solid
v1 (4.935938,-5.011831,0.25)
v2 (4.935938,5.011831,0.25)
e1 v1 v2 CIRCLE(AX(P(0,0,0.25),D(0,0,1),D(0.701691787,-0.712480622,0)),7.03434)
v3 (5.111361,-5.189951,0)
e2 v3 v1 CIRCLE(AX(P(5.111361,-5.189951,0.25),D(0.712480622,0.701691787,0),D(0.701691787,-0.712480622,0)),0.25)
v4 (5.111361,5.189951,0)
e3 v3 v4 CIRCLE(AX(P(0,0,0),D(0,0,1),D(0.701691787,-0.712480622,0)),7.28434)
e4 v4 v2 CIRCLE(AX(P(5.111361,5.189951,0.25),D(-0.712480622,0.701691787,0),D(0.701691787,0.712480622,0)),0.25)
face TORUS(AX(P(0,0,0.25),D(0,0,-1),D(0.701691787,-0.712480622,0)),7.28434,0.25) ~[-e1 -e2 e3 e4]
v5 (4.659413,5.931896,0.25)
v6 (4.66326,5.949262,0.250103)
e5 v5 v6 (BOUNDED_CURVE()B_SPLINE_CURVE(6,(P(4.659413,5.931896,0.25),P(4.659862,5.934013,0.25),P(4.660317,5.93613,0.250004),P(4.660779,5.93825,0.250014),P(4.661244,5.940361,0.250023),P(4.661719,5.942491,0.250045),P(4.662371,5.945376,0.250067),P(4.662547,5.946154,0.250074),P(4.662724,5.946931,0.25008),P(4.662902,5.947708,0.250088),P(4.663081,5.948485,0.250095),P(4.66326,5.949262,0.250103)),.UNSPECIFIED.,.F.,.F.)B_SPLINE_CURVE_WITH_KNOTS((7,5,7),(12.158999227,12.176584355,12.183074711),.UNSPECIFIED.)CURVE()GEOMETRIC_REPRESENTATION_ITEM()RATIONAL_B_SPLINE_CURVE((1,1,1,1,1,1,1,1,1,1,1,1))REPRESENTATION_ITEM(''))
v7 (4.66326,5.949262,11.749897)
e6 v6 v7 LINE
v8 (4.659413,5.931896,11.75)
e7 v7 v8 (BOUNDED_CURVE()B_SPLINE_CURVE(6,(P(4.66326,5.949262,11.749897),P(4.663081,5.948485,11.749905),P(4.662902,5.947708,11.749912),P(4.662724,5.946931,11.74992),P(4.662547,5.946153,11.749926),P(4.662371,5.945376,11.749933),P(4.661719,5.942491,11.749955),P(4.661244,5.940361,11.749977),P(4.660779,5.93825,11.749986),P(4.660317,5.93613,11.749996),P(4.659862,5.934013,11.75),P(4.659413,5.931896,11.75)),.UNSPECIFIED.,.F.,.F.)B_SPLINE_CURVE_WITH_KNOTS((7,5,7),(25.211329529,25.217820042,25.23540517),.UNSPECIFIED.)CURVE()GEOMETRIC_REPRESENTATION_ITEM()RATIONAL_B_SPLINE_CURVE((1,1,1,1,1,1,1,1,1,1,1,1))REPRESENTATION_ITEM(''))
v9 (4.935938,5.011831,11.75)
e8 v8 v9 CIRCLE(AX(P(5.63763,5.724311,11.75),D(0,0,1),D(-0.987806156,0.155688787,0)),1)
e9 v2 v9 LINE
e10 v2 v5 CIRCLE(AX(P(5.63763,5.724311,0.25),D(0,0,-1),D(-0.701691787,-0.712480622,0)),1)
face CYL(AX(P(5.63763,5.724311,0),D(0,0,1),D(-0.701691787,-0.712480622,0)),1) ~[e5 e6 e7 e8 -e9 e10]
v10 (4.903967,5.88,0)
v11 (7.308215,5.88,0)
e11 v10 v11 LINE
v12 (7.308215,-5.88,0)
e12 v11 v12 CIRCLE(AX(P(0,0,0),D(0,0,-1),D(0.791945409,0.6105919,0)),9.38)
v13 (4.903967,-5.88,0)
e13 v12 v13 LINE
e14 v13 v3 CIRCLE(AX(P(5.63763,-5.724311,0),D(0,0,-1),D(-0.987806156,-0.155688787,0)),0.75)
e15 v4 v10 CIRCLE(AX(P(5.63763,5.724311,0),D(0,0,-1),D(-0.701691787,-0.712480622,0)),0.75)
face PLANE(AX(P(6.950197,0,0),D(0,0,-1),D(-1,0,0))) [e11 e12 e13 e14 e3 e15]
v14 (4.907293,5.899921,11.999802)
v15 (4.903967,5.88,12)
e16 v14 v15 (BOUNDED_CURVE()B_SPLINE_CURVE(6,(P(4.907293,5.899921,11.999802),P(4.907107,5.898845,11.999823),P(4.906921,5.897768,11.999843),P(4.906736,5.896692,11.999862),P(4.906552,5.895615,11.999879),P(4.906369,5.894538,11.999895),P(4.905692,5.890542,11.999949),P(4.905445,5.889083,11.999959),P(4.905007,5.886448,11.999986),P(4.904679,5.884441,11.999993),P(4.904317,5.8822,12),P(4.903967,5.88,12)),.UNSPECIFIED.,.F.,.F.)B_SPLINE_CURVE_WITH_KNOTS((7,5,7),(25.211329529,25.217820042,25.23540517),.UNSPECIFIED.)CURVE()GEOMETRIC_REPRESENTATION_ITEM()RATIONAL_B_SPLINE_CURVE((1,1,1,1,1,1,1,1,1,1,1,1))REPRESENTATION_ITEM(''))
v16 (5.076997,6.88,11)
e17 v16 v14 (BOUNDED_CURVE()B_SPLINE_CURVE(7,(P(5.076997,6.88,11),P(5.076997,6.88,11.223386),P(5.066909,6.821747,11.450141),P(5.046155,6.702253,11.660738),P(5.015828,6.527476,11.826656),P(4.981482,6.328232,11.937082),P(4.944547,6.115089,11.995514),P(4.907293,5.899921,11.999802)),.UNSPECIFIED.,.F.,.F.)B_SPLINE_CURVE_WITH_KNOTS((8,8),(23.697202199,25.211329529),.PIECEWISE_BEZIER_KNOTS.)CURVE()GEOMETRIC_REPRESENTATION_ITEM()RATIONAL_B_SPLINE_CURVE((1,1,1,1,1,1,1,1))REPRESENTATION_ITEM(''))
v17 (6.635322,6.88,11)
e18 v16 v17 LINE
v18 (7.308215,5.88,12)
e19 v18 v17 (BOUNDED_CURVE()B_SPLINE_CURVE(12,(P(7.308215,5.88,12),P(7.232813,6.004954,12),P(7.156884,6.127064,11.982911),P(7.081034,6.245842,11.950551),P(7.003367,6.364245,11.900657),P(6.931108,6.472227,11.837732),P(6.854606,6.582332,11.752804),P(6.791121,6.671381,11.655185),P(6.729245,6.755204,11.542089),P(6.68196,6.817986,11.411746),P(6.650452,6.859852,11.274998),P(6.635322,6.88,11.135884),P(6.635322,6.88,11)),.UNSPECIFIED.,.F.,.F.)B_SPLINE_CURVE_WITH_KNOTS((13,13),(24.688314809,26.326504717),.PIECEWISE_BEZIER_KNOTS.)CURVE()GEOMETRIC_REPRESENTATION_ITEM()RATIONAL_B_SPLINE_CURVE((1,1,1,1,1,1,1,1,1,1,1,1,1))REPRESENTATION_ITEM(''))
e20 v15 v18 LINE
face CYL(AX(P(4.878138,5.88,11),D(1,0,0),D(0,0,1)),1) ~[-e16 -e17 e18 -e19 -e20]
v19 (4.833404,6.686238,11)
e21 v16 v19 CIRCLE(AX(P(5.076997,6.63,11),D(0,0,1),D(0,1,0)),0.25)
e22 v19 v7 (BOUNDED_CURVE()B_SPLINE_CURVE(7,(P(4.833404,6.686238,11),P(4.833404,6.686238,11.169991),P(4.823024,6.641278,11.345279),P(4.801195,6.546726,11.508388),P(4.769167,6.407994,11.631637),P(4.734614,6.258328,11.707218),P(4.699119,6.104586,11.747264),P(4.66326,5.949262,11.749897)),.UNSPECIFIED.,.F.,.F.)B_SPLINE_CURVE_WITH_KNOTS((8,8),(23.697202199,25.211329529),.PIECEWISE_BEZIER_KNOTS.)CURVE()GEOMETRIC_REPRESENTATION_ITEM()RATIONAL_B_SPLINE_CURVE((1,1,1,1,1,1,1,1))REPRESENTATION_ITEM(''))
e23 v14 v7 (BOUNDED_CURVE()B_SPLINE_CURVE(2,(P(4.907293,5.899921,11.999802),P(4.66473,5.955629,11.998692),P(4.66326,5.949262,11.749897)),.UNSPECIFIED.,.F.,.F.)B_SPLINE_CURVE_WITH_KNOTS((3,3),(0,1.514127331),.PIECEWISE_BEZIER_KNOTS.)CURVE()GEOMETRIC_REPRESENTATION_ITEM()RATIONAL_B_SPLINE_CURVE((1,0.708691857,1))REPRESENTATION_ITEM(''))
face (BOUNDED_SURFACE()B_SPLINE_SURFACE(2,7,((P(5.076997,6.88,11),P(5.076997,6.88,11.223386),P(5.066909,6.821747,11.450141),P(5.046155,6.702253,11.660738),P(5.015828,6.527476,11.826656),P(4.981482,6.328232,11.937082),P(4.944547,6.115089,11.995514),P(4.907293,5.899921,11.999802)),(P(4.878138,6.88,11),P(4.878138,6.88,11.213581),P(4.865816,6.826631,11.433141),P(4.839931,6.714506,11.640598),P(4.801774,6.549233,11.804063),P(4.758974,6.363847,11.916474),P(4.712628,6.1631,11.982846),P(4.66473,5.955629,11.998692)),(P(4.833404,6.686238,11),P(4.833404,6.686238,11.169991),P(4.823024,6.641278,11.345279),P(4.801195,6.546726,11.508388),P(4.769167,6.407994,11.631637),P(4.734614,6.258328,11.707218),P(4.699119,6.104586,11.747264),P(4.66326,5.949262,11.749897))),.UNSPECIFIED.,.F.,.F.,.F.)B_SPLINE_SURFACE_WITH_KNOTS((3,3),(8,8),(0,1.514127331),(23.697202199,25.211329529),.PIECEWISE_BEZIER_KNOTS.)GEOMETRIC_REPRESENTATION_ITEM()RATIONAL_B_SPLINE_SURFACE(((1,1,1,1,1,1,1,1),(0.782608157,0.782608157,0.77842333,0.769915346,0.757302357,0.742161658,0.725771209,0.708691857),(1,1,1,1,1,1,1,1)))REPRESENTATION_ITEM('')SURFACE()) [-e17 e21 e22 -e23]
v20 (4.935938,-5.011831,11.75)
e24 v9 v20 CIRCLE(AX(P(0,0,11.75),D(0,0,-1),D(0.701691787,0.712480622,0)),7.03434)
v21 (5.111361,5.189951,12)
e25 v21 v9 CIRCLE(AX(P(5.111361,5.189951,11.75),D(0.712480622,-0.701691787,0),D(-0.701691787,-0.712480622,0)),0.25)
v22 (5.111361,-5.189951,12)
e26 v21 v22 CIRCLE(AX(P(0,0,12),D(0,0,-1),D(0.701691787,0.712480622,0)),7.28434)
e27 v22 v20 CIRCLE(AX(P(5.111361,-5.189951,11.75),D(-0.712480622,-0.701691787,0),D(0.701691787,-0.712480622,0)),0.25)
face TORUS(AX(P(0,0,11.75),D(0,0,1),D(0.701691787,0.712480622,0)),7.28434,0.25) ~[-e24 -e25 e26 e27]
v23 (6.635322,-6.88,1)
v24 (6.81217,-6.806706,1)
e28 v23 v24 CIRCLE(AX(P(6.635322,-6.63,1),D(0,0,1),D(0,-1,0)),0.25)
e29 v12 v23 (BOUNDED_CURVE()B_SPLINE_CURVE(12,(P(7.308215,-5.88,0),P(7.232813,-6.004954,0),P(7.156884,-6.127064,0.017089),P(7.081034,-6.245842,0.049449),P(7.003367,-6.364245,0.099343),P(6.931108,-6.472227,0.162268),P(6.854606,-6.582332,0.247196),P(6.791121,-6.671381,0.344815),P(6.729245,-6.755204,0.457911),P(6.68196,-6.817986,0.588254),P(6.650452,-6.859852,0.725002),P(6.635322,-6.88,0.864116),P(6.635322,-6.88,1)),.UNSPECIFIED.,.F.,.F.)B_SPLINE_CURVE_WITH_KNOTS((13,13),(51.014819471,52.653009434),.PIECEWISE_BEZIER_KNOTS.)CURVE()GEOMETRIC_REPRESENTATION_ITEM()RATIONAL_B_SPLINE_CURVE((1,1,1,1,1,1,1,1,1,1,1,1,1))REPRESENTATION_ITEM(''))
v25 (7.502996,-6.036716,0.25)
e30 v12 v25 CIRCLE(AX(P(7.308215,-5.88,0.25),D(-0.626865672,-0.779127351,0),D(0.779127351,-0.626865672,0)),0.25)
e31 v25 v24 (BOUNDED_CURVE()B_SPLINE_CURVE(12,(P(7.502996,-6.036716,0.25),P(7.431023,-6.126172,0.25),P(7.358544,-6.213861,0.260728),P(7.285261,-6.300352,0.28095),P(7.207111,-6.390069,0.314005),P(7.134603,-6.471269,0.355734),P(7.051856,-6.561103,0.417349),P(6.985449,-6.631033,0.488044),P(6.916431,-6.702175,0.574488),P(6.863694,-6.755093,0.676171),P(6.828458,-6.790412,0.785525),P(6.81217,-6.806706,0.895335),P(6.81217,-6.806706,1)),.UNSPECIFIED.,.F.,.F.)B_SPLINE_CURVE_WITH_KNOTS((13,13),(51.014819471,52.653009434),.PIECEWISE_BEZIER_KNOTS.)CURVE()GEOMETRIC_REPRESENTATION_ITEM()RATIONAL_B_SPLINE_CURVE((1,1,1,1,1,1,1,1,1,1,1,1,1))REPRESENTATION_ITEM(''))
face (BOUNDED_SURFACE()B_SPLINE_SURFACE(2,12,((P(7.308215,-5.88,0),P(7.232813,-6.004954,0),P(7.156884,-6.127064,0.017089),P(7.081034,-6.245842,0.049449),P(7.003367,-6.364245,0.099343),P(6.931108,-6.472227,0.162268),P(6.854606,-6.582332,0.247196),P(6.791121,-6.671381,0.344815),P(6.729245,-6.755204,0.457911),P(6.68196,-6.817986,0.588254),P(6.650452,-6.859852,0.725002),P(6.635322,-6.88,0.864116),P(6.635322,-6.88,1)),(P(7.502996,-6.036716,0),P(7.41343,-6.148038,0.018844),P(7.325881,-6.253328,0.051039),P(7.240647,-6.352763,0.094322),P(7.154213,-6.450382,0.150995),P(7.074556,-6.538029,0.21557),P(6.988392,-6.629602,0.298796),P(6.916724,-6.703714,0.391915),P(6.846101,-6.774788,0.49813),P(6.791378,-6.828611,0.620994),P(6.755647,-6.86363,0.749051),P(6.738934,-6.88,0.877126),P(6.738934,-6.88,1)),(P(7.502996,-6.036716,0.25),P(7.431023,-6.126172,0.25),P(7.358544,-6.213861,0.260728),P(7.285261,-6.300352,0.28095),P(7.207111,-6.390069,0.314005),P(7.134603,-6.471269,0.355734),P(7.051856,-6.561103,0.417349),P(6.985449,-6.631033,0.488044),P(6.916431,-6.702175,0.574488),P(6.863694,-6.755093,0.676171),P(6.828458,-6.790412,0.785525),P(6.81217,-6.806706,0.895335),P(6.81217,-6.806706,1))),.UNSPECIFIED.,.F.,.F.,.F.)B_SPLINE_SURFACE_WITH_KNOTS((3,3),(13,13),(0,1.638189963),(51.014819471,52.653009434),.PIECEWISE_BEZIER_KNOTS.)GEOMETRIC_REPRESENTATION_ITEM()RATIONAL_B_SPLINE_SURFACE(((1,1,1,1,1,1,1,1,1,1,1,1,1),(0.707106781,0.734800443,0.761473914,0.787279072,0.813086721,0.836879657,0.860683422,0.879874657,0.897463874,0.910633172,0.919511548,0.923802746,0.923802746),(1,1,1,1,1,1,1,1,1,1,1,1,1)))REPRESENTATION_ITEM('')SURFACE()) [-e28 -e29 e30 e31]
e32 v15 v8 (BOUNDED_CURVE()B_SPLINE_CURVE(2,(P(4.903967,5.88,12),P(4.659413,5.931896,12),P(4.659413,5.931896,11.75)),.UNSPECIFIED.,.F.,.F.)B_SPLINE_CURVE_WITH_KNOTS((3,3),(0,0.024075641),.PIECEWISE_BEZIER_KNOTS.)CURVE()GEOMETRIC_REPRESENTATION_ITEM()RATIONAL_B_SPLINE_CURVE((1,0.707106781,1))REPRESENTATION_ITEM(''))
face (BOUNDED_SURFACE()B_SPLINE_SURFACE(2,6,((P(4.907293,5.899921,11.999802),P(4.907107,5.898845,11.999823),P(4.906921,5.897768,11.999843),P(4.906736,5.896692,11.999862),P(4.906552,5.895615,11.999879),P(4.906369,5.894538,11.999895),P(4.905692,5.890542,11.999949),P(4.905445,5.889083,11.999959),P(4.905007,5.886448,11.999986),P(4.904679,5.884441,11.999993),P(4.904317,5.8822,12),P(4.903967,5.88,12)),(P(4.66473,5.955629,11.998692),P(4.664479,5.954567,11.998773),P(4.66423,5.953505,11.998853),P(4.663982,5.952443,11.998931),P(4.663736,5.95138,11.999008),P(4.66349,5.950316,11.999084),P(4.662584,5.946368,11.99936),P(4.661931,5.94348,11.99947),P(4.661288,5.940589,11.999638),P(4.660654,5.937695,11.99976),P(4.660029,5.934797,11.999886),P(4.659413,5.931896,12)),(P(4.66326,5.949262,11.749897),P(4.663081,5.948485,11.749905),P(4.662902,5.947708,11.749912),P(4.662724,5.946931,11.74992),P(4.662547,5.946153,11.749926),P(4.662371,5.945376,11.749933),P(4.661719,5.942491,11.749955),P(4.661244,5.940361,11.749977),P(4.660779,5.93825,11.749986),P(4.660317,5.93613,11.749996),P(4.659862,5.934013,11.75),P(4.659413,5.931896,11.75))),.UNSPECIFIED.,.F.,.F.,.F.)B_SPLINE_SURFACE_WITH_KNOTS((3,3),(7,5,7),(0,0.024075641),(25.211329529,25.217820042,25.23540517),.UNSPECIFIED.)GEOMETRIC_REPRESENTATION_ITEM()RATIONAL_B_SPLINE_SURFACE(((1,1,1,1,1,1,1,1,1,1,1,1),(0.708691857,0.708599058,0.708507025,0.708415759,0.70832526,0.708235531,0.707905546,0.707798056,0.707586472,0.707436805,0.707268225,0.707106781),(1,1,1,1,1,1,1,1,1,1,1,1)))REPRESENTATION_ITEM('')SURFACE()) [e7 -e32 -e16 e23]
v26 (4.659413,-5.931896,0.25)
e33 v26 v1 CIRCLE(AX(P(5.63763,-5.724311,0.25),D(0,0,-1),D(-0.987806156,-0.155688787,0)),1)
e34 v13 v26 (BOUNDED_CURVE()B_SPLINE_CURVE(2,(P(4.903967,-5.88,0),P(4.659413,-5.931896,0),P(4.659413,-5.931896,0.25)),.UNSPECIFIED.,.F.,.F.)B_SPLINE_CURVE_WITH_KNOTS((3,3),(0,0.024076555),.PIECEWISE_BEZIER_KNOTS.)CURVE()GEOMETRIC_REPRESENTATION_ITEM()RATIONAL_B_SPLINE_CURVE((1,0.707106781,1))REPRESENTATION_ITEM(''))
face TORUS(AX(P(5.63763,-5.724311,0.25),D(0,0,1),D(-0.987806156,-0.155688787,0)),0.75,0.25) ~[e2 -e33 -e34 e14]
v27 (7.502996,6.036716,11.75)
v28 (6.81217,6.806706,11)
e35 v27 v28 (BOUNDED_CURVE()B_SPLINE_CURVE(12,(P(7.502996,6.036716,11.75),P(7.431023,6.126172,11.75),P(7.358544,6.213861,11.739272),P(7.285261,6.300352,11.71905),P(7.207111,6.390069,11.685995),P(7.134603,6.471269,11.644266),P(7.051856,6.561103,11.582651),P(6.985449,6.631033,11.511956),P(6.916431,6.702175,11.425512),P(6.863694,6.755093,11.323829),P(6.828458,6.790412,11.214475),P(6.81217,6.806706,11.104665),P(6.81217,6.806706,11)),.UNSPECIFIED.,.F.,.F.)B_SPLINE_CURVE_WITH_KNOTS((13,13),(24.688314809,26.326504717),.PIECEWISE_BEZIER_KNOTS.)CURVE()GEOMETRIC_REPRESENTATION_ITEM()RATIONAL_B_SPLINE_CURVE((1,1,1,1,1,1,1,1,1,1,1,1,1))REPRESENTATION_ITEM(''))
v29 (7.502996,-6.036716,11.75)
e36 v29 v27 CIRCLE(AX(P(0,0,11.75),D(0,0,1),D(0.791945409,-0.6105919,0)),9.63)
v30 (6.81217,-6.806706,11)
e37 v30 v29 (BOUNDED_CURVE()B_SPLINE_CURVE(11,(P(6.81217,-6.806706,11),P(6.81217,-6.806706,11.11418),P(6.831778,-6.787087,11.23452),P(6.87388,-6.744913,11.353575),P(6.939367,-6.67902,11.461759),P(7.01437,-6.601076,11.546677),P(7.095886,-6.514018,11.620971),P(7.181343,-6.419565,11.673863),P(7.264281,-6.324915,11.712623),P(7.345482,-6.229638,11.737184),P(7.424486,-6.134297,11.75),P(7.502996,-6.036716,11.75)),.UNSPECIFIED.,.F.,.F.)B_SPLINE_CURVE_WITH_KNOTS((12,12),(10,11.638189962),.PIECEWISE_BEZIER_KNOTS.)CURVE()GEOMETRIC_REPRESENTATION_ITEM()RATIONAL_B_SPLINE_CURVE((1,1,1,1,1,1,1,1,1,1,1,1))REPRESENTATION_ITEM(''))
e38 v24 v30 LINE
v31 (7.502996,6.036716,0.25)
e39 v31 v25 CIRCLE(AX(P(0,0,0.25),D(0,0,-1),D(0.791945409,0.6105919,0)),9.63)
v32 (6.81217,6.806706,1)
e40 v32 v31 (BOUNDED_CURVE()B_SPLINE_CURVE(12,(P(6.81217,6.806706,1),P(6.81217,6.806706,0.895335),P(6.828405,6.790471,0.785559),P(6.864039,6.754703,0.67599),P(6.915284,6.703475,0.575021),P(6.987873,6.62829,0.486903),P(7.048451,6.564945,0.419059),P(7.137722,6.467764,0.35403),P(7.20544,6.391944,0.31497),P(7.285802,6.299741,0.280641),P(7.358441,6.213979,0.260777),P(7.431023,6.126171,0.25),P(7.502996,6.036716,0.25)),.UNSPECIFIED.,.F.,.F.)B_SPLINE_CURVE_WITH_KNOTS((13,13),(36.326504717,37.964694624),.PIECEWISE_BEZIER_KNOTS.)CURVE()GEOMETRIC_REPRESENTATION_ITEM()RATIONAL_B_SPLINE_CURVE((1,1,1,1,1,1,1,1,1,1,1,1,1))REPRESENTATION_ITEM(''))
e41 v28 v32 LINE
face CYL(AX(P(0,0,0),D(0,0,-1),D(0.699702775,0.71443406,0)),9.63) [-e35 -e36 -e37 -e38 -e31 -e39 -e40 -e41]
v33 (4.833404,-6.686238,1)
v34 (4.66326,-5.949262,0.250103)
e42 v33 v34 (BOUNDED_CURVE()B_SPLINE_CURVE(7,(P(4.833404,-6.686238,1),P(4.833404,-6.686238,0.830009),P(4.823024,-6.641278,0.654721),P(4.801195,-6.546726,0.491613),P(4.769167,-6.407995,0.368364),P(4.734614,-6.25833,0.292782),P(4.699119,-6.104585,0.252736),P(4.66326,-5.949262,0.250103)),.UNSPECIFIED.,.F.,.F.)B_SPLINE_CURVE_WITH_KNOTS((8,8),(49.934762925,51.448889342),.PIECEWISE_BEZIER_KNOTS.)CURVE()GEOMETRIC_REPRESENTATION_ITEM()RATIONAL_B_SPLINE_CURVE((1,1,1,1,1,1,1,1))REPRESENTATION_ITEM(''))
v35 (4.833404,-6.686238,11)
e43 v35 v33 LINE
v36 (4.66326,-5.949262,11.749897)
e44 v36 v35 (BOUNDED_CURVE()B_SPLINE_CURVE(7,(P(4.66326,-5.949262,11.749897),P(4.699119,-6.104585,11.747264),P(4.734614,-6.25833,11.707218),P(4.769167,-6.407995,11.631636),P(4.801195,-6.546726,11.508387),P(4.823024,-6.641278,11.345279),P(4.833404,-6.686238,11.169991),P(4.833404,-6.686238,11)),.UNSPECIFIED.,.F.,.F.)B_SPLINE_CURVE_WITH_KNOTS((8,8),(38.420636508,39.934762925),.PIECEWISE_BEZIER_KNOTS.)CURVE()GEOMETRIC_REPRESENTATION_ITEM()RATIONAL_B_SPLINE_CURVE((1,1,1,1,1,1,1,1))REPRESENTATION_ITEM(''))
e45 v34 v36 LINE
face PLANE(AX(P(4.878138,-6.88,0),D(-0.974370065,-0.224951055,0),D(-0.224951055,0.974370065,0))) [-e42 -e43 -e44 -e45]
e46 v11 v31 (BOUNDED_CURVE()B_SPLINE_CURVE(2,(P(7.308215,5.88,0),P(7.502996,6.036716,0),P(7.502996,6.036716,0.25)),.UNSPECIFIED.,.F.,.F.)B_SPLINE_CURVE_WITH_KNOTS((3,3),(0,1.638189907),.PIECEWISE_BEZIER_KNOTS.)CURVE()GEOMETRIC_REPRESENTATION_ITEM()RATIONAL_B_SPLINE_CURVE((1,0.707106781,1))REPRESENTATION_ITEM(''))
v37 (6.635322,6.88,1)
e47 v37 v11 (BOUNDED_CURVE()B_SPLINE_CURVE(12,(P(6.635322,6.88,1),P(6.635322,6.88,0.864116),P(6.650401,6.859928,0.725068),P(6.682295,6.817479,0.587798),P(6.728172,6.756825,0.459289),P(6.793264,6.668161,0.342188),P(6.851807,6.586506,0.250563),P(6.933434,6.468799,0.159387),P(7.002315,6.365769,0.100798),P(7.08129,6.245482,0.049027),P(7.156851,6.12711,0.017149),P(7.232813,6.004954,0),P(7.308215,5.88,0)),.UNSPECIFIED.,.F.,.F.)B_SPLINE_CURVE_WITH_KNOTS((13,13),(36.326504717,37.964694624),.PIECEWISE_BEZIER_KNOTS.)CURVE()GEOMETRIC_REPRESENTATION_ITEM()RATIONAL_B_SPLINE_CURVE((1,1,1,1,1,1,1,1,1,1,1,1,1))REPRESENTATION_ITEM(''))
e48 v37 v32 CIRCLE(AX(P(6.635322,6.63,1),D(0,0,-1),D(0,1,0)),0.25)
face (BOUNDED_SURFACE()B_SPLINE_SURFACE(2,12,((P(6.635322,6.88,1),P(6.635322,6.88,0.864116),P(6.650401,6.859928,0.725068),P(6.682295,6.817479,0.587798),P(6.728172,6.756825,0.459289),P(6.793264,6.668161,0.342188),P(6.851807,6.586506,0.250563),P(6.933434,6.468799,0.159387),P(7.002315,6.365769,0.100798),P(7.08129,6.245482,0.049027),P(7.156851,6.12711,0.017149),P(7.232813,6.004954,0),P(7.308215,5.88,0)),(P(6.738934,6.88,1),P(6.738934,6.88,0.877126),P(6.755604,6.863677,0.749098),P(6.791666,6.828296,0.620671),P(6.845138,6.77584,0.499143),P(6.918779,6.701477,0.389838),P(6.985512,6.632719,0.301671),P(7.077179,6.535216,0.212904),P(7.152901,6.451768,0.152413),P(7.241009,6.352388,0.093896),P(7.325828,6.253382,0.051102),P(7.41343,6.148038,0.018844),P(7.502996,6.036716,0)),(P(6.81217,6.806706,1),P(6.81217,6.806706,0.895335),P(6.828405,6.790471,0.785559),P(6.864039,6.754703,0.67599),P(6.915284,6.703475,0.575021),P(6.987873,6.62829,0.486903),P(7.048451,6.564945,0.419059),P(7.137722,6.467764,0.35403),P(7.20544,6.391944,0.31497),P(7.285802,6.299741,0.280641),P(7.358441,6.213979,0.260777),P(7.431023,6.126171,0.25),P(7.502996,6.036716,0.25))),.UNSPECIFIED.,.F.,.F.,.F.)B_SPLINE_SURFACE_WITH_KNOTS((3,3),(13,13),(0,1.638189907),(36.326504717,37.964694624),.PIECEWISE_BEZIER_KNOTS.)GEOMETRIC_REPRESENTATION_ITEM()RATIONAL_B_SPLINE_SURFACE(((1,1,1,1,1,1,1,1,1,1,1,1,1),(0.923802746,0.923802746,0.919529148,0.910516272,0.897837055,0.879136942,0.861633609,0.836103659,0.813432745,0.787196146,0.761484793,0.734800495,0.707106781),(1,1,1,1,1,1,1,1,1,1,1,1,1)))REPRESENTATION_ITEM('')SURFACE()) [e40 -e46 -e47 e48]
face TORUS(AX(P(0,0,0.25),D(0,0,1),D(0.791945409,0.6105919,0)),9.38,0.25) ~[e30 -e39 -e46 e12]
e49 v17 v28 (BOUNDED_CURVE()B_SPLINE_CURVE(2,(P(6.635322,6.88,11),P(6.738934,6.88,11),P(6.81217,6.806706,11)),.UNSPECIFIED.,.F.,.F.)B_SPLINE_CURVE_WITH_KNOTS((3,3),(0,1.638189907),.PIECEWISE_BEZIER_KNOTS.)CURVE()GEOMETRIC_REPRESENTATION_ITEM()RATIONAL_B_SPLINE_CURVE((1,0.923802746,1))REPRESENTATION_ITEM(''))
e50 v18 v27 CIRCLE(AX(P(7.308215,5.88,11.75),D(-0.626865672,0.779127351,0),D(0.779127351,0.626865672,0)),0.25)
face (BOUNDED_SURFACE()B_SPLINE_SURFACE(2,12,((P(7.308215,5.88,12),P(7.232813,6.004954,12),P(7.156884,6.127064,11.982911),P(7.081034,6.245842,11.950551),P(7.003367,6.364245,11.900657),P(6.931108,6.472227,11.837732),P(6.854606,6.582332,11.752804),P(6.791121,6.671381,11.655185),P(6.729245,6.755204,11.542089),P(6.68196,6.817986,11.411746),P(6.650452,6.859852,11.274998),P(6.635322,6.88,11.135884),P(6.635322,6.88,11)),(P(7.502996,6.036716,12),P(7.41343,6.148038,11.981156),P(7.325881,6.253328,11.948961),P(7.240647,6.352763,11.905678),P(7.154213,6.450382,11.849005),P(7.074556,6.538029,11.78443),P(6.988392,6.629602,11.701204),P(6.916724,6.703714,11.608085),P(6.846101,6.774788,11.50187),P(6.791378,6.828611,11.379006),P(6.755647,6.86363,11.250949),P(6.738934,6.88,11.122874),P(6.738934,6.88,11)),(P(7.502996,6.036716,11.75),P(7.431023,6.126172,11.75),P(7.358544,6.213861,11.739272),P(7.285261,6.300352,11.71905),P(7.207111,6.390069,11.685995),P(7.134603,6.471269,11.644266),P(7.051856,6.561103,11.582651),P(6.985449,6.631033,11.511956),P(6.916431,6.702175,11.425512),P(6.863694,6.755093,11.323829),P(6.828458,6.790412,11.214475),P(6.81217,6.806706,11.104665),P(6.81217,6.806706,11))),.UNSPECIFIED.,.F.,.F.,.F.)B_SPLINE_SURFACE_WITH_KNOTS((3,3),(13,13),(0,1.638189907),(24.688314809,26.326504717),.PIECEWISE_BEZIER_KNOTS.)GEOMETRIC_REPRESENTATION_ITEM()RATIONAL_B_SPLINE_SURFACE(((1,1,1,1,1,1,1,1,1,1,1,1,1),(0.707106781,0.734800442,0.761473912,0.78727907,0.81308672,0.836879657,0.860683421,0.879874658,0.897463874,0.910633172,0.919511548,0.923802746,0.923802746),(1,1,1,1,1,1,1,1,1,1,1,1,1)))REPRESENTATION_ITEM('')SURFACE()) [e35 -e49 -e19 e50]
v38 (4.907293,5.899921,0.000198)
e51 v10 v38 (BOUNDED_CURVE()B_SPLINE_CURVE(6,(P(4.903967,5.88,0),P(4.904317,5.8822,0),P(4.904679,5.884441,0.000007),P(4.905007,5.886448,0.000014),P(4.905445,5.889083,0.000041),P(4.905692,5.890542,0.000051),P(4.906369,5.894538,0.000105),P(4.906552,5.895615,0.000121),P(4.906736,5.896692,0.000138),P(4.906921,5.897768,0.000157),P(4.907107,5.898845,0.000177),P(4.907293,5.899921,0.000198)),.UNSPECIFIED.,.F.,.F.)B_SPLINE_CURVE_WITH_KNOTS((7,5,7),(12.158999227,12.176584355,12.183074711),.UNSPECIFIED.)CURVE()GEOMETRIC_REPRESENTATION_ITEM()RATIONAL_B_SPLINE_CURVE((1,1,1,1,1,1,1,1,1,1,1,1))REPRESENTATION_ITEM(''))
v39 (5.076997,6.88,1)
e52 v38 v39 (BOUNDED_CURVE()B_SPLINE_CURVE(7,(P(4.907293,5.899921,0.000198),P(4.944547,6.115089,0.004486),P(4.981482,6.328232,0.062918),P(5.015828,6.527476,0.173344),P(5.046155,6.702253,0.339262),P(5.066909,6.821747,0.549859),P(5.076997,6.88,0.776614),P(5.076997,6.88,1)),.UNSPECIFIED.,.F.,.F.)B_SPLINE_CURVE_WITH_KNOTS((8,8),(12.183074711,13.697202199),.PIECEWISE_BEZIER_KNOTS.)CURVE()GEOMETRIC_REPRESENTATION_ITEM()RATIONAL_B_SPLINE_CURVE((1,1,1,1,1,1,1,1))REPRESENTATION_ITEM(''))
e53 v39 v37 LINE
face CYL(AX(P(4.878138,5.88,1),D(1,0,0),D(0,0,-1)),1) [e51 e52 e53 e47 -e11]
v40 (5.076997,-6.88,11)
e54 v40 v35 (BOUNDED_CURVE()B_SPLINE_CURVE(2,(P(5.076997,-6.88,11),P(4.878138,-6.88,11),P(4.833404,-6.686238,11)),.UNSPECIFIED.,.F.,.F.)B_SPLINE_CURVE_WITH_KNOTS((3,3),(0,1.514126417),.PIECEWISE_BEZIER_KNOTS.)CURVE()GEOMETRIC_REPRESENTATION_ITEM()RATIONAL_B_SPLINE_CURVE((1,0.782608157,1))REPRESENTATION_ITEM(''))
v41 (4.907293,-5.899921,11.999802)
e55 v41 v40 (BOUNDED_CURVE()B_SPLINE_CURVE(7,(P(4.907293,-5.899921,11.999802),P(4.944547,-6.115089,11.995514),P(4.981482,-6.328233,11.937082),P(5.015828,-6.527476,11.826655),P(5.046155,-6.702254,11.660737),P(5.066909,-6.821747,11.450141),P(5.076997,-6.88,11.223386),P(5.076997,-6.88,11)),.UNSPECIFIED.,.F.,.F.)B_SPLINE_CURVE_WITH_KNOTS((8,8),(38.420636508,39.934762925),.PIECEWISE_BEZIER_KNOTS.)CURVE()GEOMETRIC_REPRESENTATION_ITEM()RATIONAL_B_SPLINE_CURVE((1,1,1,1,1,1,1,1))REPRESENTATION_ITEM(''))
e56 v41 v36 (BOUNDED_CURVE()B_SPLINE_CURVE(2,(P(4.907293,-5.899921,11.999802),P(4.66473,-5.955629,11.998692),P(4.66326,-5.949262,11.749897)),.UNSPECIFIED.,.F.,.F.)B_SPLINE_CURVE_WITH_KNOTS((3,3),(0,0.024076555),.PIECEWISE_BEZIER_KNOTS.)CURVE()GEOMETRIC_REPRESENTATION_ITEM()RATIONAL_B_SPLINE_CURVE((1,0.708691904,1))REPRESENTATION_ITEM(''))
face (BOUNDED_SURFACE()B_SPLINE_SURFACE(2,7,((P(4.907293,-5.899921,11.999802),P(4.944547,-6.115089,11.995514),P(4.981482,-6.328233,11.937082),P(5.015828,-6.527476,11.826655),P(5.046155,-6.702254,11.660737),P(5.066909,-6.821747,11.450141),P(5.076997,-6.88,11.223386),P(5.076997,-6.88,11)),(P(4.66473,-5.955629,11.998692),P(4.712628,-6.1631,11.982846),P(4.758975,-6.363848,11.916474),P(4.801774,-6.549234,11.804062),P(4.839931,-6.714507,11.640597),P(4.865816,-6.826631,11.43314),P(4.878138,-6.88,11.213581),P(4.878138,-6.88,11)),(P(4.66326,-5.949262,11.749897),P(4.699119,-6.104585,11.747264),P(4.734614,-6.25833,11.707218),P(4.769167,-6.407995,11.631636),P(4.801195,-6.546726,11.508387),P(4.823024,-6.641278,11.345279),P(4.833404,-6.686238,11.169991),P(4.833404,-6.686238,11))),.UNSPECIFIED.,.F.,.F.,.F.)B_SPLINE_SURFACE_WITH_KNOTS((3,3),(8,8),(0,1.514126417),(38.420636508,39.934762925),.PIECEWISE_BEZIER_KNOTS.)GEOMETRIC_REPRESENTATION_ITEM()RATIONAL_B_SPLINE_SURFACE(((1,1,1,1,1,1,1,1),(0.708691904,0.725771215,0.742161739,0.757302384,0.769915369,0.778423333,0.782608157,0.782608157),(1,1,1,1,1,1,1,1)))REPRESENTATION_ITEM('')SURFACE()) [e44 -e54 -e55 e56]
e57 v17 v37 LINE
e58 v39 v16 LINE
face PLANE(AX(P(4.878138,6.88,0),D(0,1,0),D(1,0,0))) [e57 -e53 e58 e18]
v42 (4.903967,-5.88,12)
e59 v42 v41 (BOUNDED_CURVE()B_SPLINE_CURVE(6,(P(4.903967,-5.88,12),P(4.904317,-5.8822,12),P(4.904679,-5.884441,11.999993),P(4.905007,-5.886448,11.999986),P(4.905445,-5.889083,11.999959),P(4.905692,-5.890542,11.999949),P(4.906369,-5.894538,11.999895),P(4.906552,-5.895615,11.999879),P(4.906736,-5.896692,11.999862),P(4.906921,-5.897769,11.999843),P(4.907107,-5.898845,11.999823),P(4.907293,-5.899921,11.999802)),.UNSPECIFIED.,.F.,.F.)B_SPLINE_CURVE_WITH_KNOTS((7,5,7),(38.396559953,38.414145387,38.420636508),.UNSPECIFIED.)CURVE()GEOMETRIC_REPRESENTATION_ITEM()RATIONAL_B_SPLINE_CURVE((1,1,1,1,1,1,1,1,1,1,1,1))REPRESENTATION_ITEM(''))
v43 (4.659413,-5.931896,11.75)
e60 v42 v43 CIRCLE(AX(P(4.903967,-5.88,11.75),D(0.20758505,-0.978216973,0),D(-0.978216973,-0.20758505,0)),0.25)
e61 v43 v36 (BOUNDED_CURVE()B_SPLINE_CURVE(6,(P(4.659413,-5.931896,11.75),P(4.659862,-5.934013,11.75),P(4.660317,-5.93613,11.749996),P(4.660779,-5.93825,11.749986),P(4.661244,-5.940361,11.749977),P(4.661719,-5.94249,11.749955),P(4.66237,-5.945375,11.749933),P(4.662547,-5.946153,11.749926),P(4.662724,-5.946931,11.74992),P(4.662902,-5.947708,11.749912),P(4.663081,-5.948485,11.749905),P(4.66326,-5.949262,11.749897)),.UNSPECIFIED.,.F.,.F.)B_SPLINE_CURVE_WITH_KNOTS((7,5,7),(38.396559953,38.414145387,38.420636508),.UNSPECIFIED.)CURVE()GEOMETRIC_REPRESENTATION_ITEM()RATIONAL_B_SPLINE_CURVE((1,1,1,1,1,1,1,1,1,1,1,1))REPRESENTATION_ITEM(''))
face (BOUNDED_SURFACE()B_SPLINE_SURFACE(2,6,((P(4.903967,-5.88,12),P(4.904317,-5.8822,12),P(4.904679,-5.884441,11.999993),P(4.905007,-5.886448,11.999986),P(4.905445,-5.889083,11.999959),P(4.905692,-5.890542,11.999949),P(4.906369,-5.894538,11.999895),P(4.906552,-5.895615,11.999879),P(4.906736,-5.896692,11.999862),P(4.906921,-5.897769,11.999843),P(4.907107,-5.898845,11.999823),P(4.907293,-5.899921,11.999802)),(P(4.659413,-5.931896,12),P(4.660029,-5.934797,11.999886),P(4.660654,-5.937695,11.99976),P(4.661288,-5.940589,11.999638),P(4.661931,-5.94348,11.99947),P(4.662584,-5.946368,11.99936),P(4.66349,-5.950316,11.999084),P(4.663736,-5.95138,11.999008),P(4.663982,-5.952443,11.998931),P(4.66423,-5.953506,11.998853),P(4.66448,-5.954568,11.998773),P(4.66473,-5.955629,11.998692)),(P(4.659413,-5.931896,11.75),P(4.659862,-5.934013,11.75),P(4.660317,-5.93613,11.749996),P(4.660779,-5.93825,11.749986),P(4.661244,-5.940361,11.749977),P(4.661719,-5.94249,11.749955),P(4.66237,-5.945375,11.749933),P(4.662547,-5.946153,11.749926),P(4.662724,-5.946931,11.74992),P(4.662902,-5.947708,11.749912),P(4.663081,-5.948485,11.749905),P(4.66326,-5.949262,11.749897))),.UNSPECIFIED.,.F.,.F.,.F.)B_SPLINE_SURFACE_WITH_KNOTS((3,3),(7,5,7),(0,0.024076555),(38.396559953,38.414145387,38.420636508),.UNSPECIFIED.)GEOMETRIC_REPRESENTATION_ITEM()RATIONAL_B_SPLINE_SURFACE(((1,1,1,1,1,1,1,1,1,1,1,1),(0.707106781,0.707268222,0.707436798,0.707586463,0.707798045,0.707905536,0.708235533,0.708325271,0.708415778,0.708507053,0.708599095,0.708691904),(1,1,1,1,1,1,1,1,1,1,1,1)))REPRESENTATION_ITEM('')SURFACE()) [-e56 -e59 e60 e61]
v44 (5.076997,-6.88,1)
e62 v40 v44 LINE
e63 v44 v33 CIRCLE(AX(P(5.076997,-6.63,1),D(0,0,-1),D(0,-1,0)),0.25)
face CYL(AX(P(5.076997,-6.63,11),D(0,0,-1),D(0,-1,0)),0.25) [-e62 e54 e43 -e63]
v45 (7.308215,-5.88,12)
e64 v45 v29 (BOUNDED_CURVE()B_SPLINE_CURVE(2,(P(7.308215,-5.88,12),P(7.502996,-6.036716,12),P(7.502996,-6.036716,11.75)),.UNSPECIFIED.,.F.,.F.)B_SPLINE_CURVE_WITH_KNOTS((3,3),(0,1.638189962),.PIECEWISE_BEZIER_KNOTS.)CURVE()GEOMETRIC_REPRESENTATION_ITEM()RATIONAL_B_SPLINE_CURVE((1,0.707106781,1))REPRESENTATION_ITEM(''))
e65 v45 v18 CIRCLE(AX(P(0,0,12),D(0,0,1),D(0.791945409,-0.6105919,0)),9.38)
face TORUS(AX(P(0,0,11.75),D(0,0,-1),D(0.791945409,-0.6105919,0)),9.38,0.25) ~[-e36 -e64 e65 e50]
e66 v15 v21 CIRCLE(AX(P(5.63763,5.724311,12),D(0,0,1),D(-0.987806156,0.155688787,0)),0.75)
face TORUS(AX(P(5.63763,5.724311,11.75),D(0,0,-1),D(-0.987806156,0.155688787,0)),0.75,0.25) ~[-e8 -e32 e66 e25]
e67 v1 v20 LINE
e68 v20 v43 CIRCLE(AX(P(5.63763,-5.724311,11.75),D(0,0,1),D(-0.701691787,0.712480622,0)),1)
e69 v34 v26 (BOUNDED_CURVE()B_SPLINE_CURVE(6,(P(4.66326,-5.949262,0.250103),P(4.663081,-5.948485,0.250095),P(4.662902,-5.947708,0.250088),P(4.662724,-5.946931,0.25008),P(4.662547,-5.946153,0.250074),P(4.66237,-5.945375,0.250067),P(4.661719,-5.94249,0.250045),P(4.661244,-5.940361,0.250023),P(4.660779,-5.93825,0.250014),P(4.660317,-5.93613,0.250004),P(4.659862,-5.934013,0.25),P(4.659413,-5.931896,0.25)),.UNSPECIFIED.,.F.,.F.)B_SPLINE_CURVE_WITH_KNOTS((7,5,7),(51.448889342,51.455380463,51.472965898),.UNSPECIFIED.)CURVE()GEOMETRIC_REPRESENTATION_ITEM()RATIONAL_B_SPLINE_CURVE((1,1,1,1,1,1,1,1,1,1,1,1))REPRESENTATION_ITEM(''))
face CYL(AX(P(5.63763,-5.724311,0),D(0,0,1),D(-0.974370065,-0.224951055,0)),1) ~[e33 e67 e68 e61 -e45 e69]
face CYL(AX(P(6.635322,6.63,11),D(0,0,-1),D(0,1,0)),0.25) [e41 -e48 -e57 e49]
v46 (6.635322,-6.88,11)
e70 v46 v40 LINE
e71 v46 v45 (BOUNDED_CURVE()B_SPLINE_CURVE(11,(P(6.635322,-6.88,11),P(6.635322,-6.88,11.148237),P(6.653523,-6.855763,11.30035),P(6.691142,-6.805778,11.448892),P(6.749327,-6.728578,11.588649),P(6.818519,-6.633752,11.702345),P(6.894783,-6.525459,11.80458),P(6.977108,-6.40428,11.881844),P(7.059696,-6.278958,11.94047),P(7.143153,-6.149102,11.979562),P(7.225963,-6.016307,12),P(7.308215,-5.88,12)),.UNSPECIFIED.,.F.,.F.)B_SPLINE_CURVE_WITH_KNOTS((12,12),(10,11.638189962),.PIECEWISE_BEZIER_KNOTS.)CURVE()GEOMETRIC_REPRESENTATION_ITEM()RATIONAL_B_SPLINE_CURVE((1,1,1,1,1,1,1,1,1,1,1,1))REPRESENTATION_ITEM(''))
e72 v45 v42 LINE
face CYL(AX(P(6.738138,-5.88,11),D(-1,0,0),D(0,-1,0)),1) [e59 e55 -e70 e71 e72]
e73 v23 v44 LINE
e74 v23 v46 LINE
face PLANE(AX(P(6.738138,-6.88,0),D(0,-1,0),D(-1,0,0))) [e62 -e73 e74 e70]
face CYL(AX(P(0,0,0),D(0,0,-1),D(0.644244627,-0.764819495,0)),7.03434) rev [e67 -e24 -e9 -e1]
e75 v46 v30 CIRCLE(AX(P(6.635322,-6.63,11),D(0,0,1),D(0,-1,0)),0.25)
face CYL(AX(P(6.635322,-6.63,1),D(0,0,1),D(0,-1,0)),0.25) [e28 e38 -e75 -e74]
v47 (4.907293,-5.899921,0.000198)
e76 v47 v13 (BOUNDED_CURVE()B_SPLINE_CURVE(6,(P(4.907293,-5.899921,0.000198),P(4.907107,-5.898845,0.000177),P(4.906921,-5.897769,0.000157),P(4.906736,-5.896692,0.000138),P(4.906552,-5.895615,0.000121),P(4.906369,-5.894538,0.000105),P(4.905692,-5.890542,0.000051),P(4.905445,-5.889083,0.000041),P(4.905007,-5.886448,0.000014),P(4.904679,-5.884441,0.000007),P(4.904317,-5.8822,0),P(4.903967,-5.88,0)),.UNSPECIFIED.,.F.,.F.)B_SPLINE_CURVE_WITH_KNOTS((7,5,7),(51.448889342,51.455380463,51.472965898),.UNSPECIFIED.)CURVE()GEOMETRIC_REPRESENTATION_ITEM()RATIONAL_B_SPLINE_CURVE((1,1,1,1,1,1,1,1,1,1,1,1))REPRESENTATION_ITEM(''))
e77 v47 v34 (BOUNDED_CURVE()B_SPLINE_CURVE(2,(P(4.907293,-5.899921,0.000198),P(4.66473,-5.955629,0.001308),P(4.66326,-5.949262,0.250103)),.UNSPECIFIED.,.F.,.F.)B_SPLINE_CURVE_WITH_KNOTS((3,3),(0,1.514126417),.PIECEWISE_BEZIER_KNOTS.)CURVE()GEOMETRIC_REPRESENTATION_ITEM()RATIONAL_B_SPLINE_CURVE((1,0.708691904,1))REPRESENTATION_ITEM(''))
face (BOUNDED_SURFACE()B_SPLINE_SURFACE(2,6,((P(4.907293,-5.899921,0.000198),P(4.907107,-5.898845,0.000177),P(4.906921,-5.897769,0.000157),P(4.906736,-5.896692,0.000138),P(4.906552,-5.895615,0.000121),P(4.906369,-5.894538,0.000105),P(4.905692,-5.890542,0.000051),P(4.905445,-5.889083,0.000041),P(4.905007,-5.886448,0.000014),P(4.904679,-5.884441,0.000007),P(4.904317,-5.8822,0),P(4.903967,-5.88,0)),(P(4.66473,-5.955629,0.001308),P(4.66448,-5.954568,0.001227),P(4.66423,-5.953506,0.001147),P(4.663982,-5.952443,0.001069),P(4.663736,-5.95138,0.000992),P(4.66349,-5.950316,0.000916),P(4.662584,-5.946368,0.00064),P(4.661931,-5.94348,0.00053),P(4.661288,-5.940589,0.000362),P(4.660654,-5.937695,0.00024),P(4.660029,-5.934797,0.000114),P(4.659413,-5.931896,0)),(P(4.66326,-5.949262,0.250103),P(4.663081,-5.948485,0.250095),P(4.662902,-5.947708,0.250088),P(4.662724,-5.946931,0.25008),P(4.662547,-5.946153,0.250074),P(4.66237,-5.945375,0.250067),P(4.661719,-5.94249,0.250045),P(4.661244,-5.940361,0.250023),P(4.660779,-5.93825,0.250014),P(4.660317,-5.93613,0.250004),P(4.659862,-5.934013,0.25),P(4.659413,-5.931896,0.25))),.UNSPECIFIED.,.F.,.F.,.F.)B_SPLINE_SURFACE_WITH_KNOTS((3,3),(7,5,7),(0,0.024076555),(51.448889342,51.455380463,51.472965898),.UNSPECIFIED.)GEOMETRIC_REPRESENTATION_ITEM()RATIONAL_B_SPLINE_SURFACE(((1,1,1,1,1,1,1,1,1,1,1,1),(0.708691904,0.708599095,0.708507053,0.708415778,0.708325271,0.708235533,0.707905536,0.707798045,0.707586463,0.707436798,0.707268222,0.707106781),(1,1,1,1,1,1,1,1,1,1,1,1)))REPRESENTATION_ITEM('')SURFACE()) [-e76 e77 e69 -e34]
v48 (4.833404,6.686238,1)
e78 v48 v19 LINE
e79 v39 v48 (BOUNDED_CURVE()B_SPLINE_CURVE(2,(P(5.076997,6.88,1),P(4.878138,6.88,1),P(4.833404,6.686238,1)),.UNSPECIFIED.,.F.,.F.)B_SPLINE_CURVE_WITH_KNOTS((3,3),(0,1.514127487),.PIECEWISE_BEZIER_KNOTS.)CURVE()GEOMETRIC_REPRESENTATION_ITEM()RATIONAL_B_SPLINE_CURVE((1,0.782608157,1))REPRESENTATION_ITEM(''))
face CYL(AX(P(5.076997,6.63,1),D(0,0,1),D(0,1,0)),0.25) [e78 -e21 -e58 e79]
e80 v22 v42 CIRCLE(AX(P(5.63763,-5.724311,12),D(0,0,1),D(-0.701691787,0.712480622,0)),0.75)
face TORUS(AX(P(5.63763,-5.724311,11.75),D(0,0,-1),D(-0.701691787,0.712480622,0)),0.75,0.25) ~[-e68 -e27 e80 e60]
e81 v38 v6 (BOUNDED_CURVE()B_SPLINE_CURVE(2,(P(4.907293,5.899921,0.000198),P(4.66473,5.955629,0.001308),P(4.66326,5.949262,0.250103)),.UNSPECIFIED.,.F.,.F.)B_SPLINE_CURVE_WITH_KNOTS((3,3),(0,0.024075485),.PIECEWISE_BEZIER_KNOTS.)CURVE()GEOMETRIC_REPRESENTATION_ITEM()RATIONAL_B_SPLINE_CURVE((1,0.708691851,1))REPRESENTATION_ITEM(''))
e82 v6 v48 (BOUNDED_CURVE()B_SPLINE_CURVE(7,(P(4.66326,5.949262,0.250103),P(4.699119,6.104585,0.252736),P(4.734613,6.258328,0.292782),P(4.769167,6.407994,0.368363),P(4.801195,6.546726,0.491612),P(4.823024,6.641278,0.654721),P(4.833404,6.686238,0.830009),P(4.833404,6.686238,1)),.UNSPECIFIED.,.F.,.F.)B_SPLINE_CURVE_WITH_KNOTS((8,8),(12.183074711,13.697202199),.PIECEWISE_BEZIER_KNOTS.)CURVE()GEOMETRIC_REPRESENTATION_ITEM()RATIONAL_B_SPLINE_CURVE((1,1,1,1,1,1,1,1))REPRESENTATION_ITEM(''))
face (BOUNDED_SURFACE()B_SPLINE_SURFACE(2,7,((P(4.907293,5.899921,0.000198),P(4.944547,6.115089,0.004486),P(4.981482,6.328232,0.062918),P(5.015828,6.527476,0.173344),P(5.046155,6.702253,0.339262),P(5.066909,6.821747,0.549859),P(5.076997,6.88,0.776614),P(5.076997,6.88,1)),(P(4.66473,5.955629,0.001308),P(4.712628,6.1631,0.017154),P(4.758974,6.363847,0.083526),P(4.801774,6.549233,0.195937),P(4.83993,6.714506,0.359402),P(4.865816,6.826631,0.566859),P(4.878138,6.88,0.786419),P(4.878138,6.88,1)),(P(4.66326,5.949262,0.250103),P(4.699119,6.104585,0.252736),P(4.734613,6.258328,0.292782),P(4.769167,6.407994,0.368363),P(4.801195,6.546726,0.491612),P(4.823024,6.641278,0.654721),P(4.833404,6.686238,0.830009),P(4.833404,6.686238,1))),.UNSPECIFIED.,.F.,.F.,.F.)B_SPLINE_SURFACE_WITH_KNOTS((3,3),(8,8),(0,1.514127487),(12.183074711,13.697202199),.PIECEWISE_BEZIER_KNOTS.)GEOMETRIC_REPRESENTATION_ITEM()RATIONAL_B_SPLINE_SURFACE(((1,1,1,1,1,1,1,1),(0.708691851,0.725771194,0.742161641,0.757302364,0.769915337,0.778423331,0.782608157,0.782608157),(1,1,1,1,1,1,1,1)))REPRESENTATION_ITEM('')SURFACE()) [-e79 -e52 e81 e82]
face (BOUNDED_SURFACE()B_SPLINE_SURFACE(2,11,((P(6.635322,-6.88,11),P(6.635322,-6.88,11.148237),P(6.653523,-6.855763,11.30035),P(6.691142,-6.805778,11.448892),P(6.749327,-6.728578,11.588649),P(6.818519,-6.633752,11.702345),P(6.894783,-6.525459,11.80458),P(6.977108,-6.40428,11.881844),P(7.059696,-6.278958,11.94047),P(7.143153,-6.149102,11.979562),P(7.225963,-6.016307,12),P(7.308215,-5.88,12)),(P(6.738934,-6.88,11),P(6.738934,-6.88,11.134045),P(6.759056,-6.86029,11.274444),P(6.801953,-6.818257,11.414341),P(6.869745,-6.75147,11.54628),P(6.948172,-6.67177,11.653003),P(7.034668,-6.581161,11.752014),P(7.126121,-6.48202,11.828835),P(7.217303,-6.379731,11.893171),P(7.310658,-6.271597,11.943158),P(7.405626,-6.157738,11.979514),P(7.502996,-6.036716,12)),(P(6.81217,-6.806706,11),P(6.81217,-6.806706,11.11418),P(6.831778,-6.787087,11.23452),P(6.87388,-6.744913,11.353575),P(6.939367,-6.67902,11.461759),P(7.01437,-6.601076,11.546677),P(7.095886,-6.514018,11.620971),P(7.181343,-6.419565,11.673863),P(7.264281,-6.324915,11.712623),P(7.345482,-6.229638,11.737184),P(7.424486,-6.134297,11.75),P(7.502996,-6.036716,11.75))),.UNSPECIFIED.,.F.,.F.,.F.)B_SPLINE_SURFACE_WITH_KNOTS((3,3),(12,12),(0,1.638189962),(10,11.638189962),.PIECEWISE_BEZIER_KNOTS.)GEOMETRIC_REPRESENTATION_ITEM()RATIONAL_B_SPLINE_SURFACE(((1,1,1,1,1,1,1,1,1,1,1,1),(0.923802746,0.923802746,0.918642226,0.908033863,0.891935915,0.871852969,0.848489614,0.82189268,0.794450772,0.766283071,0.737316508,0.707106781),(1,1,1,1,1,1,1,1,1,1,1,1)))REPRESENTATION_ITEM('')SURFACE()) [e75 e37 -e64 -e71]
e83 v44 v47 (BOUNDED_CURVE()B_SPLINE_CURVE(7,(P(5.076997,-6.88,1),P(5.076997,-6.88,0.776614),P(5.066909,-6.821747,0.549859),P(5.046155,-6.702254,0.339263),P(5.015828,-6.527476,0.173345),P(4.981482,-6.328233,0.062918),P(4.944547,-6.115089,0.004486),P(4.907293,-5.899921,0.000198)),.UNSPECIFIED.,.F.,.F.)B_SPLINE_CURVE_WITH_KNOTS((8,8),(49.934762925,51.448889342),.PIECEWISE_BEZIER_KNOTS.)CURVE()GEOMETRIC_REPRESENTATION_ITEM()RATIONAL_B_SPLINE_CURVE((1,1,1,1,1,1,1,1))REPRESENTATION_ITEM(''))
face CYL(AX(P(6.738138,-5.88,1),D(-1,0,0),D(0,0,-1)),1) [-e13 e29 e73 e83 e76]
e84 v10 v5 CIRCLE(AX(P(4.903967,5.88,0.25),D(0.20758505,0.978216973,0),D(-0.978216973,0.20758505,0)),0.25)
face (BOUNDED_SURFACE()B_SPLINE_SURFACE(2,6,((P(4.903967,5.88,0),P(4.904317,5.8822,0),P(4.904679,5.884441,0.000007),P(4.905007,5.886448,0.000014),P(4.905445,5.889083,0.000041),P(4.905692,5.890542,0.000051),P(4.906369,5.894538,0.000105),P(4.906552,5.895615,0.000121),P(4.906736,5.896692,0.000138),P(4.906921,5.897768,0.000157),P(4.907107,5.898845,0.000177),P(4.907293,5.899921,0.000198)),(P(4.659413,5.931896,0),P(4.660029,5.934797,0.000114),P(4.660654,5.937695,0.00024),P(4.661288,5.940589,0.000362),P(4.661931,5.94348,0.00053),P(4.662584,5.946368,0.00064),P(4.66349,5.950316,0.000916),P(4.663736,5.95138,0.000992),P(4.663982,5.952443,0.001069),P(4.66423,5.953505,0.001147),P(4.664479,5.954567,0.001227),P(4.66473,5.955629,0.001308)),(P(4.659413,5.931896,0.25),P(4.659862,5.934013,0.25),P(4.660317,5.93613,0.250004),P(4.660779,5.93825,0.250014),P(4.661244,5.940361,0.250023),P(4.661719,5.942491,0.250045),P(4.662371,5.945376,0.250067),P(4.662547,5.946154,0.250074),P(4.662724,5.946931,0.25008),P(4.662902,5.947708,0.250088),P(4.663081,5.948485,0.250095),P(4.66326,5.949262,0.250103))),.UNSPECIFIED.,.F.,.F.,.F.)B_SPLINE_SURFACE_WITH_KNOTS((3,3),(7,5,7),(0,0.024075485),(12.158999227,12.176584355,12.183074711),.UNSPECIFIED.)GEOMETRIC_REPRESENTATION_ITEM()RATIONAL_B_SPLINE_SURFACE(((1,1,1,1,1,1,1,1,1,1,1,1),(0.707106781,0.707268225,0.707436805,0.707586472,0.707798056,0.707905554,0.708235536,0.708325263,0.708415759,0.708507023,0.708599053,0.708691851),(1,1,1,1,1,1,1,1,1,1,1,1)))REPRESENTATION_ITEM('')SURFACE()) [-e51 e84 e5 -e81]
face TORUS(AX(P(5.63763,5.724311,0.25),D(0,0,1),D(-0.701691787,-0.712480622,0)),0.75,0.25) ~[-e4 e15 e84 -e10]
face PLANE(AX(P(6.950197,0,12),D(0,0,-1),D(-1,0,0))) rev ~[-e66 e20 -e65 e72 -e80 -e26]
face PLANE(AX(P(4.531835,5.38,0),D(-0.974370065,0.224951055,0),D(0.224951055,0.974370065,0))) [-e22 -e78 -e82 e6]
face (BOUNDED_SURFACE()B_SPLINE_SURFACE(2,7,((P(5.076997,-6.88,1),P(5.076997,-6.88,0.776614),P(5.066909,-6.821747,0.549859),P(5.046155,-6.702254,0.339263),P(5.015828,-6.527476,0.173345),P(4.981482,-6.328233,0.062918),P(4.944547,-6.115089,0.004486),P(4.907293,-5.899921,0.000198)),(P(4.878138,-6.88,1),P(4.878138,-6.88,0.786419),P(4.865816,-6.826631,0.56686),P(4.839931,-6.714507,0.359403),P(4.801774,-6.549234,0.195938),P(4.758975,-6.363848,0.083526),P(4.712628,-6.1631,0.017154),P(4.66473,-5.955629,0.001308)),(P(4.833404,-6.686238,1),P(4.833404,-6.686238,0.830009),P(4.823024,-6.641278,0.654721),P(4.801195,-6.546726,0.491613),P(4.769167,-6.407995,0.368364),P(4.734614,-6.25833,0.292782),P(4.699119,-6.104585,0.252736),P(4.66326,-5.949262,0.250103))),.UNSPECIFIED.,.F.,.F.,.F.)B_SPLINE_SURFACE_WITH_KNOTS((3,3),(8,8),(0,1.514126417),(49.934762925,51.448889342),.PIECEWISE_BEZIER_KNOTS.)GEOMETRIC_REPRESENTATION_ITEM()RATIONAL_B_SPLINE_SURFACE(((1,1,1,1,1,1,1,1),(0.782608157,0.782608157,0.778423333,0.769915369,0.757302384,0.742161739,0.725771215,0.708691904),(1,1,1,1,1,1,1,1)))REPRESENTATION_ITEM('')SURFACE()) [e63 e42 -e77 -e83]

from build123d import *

# Parameters (mm, degrees)
BOSS_EXTRUDE1_DEPTH = 12
FILLET1_R           = 1
FILLET2_R           = 1
FILLET3_R           = 0.25


with BuildPart() as part:
    # Sketch1 → Boss-Extrude1 (new body)
    with BuildSketch(Plane.XY):
        with BuildLine():
            Line((6.738137725, -6.88), (4.878137725, -6.88))
            Line((4.878137725, -6.88), (4.531835438, -5.38))
            ThreePointArc((4.531835438, -5.38), (7.034339517, 0), (4.531835438, 5.38))
            Line((4.531835438, 5.38), (4.878137725, 6.88))
            Line((4.878137725, 6.88), (6.738137725, 6.88))
            ThreePointArc((6.738137725, 6.88), (9.63, 0), (6.738137725, -6.88))
        make_face()
    extrude(amount=BOSS_EXTRUDE1_DEPTH)

    # Fillet1
    fillet1_edges = [part.edges().sort_by_distance(p)[0] for p in [
        (4.531835438, -5.38, 6),
        (4.531835438, 5.38, 6),
    ]]
    fillet(fillet1_edges, radius=FILLET1_R)

    # Fillet2
    fillet2_edges = [part.edges().sort_by_distance(p)[0] for p in [
        (5.808137725, -6.88, 0),
        (5.808137725, 6.88, 0),
        (5.808137725, -6.88, 12),
        (5.808137725, 6.88, 12),
    ]]
    fillet(fillet2_edges, radius=FILLET2_R)

    # Fillet3
    fillet3_edges = [part.edges().sort_by_distance(p)[0] for p in [
        (7.034339517, 0, 0),
        (4.687877266, 5.411310183, 0),
        (7.034339517, 0, 12),
        (4.687877266, -5.411310183, 12),
        (6.738137725, -6.88, 6),
        (4.878137725, -6.88, 6),
        (9.63, 0, 0),
        (6.738137725, 6.88, 6),
        (9.63, 0, 12),
        (7.064336577, 6.544619807, 11.7471817),
        (7.064336589, -6.544619821, 11.747181705),
        (7.064336577, 6.544619807, 0.2528183),
        (7.064336577, -6.544619807, 0.2528183),
        (4.687877266, -5.411310183, 0),
        (4.655934772, -5.914769545, 11.999395357),
        (4.655934772, -5.914769545, 0.000604643),
        (4.815123489, -6.607055355, 11.686578845),
        (4.815123489, -6.607055355, 0.313421155),
        (4.878137725, 6.88, 6),
        (4.815123489, 6.607055355, 11.686578845),
        (4.815123489, 6.607055355, 0.313421155),
        (4.687877266, 5.411310183, 12),
        (4.655934776, 5.914769544, 11.99939535),
        (4.655934776, 5.914769544, 0.00060465),
    ]]
    fillet(fillet3_edges, radius=FILLET3_R)


solid = part.part
